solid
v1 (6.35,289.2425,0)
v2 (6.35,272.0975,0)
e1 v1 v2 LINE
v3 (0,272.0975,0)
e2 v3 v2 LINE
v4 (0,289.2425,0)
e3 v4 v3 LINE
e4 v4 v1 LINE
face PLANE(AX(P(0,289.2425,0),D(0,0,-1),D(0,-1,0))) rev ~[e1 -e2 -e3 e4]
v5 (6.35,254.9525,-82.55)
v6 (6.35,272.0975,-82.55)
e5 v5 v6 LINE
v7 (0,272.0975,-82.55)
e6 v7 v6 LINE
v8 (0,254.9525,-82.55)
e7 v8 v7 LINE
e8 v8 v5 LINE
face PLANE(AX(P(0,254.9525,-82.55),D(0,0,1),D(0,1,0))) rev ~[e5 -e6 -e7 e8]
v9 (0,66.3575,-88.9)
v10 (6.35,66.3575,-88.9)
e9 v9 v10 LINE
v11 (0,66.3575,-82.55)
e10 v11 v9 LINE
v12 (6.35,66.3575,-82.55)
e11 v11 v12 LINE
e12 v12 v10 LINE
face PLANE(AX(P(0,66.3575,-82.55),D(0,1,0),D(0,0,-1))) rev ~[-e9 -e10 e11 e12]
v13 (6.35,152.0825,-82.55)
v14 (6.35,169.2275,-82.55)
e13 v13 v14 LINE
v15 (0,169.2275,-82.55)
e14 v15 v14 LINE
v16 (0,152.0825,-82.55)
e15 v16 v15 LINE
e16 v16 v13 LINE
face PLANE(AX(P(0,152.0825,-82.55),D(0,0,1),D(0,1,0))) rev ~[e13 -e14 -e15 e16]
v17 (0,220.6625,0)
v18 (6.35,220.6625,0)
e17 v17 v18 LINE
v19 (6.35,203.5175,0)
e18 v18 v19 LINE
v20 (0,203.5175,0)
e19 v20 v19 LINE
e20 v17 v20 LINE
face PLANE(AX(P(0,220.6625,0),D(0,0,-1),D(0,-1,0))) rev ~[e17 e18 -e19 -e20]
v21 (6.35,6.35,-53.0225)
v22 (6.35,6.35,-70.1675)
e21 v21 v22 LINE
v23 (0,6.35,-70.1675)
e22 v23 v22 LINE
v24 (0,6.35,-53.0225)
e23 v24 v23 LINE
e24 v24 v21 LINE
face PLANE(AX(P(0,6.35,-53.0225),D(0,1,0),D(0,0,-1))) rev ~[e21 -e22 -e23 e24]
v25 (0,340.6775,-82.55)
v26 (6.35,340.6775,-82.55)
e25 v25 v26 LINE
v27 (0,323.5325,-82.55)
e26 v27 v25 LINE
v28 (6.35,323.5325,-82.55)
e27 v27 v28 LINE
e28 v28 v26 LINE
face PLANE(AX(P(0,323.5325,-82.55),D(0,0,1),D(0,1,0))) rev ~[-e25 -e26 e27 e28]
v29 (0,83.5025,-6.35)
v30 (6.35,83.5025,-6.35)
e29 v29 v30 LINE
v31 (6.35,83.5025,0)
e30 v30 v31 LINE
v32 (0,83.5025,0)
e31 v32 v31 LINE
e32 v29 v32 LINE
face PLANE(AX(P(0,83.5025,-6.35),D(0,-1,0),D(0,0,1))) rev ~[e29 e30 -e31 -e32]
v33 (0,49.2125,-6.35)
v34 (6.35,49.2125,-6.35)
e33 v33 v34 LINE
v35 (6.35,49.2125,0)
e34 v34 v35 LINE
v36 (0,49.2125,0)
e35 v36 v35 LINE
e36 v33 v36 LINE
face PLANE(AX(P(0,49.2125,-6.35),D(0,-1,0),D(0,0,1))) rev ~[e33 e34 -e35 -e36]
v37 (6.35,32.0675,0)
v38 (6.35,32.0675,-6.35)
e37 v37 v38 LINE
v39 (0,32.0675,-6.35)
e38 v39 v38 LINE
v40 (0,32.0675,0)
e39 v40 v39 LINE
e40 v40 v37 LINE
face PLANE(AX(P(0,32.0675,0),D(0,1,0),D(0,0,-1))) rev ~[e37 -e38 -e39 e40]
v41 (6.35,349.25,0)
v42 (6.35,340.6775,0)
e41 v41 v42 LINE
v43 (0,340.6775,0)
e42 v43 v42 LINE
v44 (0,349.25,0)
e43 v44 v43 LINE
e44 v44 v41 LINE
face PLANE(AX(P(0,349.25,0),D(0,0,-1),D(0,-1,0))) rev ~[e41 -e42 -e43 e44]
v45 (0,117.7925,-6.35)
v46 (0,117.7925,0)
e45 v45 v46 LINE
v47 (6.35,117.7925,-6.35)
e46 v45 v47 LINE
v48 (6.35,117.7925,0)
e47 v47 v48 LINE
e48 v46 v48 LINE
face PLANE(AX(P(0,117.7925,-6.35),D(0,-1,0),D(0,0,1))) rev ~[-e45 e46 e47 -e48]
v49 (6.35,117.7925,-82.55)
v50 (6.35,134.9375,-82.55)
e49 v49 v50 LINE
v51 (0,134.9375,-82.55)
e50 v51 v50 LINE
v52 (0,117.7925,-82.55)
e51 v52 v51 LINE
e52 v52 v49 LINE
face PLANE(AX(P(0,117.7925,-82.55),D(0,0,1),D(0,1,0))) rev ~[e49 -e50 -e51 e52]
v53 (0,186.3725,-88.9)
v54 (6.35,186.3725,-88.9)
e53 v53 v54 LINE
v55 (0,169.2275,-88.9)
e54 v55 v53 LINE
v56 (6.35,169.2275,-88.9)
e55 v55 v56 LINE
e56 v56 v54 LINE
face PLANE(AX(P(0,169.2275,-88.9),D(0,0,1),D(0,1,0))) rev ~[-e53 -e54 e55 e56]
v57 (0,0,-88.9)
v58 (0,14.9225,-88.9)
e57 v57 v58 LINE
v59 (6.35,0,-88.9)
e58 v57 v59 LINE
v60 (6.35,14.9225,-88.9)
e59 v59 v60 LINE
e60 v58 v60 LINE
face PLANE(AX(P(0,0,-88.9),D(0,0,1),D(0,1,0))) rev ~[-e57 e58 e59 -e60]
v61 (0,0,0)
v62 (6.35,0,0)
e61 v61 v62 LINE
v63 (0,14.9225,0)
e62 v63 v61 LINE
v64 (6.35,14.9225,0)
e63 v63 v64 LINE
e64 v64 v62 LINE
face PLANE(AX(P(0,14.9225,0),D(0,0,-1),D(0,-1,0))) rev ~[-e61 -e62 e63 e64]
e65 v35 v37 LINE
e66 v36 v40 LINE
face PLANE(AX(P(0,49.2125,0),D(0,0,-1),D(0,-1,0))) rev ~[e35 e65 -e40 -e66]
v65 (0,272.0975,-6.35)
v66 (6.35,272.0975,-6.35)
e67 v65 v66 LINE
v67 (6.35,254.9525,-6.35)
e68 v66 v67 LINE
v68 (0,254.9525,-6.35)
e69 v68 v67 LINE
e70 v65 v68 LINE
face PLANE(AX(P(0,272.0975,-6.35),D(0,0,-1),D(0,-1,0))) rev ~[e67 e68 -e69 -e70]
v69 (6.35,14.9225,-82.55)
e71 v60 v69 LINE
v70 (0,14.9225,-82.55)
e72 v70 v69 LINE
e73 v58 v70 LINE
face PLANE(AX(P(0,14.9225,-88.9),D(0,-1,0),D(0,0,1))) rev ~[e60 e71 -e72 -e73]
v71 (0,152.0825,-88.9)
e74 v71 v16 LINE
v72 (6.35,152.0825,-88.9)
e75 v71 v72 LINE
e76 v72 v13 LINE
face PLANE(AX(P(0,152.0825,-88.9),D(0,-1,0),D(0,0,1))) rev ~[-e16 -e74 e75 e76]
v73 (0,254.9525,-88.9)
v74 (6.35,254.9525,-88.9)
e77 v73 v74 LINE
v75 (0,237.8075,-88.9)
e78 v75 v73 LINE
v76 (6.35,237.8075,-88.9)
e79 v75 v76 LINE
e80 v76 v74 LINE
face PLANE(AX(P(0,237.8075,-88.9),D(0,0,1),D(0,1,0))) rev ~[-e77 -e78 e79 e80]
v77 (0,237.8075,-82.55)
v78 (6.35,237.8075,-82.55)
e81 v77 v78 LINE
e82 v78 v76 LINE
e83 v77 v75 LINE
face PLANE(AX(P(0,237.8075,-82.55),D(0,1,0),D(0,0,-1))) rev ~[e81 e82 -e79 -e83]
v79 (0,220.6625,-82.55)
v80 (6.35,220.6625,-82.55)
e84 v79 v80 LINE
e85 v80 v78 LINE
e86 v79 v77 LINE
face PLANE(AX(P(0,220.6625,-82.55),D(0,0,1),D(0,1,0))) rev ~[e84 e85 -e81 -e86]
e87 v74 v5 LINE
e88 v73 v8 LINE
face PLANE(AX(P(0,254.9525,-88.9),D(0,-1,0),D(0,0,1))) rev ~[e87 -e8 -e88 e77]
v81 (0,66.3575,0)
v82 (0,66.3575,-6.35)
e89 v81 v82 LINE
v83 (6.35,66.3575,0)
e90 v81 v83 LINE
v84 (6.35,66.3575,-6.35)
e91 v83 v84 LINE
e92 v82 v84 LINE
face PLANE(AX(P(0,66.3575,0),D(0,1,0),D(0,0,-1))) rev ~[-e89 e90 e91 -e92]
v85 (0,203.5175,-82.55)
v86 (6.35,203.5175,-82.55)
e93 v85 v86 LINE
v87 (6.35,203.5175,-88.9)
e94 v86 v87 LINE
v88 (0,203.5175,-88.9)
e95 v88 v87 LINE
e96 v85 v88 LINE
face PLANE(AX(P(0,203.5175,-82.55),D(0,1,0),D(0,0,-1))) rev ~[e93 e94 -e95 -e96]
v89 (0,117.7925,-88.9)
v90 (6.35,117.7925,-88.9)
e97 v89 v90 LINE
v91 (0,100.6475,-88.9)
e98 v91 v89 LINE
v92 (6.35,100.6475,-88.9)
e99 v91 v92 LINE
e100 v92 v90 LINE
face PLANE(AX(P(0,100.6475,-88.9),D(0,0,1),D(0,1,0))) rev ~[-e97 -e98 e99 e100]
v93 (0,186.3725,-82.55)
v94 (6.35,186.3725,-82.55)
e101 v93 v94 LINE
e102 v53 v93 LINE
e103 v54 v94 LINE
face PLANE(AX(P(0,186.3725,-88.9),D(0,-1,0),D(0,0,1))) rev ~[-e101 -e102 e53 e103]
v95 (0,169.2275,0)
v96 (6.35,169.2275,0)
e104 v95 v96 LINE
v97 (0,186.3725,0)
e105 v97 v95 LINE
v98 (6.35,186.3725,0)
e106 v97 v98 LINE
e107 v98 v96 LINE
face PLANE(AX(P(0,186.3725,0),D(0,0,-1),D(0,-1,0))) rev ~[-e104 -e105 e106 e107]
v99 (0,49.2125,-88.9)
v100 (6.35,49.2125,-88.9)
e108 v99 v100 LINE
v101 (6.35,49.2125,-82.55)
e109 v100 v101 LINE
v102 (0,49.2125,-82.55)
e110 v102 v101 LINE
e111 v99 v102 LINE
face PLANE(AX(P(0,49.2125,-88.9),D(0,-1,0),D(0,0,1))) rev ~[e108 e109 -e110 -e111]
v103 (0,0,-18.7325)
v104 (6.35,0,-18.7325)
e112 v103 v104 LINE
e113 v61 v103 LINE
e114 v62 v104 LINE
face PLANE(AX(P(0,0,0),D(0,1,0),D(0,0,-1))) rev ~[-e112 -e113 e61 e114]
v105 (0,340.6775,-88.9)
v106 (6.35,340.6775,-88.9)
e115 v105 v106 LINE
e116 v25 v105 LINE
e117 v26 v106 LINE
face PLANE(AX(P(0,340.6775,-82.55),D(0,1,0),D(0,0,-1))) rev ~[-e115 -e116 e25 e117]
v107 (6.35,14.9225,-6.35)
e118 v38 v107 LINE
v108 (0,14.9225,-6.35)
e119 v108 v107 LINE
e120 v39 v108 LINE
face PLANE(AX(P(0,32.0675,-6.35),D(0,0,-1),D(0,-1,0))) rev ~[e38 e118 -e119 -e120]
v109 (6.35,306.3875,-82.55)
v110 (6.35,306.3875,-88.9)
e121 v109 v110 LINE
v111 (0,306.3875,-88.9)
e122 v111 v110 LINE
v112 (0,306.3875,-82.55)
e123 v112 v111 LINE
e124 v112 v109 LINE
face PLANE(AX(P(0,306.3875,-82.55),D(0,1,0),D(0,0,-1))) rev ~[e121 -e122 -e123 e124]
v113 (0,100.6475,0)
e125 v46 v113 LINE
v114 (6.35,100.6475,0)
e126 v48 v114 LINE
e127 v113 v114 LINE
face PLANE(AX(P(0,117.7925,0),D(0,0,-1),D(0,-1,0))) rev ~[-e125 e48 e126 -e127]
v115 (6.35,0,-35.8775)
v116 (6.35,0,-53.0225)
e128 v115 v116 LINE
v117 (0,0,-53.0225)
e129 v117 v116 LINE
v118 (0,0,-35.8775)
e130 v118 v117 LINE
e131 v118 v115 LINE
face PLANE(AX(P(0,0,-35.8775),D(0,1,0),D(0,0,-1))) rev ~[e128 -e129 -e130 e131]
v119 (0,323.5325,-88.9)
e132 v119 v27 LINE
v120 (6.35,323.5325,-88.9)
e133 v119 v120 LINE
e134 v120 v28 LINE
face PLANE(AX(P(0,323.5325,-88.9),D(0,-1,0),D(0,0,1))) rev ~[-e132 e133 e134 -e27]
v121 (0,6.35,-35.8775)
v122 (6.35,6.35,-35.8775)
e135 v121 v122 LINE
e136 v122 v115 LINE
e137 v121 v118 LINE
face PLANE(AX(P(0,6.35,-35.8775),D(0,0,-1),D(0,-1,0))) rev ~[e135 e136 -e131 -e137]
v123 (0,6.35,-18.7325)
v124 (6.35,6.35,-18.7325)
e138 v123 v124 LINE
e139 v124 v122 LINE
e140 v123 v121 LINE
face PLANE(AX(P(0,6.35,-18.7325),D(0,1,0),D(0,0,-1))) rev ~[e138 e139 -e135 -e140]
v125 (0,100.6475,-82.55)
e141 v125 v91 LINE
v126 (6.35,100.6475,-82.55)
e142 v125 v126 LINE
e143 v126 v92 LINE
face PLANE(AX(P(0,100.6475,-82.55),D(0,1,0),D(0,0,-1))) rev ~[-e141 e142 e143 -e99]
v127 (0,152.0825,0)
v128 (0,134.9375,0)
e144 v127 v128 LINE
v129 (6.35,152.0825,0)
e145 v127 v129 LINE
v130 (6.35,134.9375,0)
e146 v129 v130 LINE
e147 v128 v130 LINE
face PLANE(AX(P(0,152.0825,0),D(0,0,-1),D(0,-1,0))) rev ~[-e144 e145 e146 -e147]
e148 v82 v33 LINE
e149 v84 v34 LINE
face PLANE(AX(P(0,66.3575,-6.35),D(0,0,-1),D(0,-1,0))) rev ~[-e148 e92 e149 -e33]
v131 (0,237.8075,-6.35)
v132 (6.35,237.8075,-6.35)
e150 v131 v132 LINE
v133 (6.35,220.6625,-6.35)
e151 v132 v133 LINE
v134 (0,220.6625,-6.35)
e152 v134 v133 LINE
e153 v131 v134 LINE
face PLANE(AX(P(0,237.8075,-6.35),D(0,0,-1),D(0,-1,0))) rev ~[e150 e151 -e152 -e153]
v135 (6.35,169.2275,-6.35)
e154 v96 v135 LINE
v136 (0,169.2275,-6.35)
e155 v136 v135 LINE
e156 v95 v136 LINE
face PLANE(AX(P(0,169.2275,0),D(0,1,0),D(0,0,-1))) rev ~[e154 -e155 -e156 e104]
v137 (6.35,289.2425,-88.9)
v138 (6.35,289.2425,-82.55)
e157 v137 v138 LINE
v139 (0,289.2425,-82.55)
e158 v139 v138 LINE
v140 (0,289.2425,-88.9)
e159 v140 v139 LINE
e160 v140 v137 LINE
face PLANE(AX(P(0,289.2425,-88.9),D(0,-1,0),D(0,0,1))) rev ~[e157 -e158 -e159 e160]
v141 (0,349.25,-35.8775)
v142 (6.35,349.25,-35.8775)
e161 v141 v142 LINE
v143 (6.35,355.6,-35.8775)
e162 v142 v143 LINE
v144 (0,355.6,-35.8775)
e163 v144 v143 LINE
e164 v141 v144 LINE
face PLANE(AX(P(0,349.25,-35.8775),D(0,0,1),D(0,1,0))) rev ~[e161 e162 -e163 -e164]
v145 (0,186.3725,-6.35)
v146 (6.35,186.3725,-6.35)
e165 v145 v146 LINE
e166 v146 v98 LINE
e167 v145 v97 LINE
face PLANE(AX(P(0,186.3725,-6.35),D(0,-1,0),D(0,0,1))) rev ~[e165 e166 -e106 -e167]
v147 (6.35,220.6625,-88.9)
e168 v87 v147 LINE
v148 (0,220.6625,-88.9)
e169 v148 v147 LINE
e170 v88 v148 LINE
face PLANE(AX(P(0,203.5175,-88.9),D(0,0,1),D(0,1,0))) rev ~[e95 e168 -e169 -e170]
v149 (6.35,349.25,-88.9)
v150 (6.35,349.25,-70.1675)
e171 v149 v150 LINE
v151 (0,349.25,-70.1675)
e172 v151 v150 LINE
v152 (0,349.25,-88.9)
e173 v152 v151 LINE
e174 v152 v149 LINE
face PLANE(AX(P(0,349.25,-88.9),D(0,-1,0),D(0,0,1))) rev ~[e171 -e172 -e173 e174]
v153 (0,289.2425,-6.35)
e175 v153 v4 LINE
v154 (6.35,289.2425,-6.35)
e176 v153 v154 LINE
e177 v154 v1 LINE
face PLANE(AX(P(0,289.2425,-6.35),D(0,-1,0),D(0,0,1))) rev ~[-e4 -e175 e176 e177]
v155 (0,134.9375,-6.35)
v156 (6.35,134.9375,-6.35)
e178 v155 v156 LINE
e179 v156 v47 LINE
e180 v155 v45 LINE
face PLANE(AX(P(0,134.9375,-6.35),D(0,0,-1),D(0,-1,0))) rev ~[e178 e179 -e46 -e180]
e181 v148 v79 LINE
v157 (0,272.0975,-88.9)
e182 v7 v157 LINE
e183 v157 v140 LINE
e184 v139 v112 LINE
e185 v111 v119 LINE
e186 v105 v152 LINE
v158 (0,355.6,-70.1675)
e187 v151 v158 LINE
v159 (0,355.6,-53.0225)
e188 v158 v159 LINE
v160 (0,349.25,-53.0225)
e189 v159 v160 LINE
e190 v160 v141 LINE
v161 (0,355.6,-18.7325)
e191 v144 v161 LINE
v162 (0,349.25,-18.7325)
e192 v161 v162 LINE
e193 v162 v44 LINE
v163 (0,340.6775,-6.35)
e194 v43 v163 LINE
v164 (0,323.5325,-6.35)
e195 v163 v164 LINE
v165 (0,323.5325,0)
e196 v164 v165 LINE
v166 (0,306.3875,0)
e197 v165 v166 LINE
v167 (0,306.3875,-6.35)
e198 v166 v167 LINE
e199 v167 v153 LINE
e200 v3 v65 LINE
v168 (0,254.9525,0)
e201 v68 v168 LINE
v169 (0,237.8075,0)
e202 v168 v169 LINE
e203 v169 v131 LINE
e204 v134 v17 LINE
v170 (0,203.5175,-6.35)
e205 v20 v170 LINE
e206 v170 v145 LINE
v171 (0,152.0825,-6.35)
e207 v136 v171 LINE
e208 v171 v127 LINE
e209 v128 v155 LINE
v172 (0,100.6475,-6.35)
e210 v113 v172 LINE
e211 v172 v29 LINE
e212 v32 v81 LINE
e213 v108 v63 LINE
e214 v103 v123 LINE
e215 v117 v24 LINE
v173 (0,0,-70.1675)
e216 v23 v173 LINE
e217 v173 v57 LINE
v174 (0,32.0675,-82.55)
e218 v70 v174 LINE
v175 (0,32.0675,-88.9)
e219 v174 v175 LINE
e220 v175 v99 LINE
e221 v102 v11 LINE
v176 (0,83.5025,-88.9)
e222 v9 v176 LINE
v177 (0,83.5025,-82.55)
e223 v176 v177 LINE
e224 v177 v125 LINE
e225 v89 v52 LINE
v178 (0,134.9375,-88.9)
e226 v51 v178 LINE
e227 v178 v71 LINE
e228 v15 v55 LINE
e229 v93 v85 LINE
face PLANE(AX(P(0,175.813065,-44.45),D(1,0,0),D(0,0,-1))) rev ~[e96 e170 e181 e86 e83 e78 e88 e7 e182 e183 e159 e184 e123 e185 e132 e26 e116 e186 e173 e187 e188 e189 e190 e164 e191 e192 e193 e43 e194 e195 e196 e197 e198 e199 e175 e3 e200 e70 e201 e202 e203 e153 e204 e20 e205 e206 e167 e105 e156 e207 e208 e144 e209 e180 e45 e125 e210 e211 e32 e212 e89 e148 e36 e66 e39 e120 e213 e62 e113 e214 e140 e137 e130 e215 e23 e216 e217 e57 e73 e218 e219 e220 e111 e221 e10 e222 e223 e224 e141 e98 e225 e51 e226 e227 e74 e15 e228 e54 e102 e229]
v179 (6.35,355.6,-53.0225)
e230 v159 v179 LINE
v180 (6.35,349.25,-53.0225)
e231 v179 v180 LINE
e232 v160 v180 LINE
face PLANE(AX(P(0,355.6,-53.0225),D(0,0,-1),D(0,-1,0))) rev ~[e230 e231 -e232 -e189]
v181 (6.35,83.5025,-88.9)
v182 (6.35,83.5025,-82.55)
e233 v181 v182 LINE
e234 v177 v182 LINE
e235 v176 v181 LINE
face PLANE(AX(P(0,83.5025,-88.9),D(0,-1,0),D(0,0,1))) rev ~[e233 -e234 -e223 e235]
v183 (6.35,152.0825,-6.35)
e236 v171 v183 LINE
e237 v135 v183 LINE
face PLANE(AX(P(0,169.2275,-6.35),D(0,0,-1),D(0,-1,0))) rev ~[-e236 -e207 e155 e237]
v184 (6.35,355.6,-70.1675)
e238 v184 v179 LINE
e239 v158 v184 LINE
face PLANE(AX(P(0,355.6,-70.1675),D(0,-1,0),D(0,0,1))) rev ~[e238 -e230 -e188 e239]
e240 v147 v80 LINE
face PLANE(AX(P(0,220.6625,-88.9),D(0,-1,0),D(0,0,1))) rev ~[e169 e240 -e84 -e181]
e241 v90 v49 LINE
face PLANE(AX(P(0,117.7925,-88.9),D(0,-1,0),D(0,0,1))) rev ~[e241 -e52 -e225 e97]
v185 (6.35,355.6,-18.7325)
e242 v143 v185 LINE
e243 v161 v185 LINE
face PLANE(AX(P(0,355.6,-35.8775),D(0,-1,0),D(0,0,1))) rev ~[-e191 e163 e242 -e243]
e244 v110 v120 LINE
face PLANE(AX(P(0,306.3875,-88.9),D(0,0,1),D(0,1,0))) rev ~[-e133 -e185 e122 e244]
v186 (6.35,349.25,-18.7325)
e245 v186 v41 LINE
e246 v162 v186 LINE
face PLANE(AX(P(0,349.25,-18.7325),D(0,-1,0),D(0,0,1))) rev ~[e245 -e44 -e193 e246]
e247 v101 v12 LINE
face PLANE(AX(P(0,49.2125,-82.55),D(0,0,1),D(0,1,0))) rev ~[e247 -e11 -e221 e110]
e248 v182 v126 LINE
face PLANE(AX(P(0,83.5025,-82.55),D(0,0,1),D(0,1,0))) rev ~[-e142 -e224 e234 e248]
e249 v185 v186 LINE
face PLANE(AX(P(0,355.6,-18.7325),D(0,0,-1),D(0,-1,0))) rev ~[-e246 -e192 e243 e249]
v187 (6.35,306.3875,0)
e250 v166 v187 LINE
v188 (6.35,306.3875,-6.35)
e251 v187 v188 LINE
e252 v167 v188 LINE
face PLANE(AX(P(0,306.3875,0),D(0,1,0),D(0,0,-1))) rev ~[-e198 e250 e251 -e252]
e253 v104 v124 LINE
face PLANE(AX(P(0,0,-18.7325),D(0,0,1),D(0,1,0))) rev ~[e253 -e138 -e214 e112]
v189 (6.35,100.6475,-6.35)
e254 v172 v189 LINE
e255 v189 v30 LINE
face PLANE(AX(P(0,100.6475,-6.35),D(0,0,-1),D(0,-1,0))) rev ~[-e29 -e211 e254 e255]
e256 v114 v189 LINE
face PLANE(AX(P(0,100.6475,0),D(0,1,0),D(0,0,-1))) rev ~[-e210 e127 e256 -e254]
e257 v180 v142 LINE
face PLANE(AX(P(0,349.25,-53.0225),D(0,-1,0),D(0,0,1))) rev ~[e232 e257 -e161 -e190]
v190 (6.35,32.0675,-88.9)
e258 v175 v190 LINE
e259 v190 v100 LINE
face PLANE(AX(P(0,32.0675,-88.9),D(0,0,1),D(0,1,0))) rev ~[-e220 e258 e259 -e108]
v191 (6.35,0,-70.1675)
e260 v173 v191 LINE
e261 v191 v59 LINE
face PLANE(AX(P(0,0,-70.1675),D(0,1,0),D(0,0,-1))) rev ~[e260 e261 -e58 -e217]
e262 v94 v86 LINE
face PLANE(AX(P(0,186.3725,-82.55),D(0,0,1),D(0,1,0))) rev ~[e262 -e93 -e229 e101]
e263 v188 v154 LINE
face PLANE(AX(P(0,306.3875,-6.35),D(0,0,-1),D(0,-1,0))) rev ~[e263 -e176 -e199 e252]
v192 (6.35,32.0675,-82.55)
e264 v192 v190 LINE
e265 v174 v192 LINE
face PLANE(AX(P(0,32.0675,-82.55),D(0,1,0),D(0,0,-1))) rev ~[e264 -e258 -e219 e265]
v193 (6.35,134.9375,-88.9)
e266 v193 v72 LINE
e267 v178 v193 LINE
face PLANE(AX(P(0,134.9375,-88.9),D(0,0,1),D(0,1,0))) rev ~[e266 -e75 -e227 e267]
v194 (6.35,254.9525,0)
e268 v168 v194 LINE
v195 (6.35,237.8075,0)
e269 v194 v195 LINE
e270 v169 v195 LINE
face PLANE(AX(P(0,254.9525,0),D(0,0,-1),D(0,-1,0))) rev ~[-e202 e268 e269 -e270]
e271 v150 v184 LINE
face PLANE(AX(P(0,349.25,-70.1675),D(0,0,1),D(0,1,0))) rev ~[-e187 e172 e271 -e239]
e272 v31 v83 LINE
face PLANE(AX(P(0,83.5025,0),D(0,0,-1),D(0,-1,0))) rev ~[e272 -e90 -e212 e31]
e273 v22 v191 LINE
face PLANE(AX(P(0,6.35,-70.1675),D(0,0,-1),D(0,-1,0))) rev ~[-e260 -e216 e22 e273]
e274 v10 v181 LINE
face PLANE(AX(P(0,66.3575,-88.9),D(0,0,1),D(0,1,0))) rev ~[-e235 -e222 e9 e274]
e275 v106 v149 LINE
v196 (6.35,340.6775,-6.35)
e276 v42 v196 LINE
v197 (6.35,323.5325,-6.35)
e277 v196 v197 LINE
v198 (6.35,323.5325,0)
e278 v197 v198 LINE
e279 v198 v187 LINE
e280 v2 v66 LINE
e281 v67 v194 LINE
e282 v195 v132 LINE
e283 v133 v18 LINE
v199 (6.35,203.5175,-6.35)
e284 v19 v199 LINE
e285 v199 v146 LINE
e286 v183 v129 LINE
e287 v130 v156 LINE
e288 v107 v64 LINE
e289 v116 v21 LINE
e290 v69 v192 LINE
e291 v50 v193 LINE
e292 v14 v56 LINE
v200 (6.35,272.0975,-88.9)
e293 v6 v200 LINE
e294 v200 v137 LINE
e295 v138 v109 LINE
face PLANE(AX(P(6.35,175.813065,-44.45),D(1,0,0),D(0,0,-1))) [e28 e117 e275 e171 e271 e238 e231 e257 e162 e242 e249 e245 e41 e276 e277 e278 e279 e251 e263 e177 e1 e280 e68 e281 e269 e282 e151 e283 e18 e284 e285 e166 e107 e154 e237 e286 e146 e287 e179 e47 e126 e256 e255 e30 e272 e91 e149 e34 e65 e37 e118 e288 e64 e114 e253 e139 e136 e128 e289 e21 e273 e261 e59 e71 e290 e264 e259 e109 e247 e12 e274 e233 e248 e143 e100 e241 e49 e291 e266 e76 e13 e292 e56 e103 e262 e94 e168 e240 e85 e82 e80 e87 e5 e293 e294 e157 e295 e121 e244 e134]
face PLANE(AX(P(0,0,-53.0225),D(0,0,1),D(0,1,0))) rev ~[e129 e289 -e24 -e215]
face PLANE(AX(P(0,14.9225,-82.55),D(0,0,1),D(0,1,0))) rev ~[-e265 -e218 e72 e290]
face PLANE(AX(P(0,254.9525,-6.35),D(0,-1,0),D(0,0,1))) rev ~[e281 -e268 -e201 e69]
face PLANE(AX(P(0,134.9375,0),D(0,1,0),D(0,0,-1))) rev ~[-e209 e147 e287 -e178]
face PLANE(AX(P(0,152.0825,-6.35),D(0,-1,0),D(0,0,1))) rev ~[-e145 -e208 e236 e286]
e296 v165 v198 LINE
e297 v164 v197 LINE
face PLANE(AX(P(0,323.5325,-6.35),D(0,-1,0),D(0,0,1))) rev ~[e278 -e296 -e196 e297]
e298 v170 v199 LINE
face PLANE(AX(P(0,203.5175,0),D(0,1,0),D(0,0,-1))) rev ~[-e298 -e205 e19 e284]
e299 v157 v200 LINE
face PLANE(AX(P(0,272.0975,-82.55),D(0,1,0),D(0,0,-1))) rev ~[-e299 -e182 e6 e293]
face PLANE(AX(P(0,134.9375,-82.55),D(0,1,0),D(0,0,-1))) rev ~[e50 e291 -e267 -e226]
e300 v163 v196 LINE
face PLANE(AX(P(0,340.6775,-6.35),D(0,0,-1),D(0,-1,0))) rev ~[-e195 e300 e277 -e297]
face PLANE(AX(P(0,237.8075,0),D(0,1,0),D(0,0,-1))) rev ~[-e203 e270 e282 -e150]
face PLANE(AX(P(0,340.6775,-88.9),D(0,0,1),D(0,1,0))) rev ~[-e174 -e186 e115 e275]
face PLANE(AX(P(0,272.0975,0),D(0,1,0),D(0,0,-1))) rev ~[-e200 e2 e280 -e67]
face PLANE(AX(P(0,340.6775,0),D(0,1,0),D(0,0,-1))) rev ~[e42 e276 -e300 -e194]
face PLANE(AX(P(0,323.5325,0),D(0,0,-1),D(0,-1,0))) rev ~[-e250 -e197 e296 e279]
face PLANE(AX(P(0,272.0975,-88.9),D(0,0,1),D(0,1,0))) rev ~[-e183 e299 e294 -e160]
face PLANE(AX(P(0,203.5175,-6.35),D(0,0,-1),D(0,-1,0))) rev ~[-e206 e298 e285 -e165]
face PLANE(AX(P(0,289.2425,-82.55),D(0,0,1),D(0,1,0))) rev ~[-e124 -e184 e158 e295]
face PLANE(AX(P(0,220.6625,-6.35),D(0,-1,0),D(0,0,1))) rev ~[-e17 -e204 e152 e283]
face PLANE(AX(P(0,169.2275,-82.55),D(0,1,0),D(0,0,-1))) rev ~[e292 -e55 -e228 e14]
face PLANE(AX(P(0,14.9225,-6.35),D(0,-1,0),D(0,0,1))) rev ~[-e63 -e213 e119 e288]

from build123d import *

# Parameters (mm, degrees)
BOSS_EXTRUDE1_DEPTH = 6.35


with BuildPart() as part:
    # Sketch1 → Boss-Extrude1 (new body)
    with BuildSketch(Plane(origin=(0, 0, 0), x_dir=(0, 0, -1), z_dir=(1, 0, 0))):
        Polygon((0, 14.9225), (0, 6.35), (0, 0), (6.35, 0), (18.7325, 0), (18.7325, 6.35), (35.8775, 6.35), (35.8775, 0), (53.0225, 0), (53.0225, 6.35), (70.1675, 6.35), (70.1675, 0), (82.55, 0), (88.9, 0), (88.9, 6.35), (88.9, 14.9225), (82.55, 14.9225), (82.55, 32.0675), (88.9, 32.0675), (88.9, 49.2125), (82.55, 49.2125), (82.55, 66.3575), (88.9, 66.3575), (88.9, 83.5025), (82.55, 83.5025), (82.55, 100.6475), (88.9, 100.6475), (88.9, 117.7925), (82.55, 117.7925), (82.55, 134.9375), (88.9, 134.9375), (88.9, 152.0825), (82.55, 152.0825), (82.55, 169.2275), (88.9, 169.2275), (88.9, 186.3725), (82.55, 186.3725), (82.55, 203.5175), (88.9, 203.5175), (88.9, 220.6625), (82.55, 220.6625), (82.55, 237.8075), (88.9, 237.8075), (88.9, 254.9525), (82.55, 254.9525), (82.55, 272.0975), (88.9, 272.0975), (88.9, 289.2425), (82.55, 289.2425), (82.55, 306.3875), (88.9, 306.3875), (88.9, 323.5325), (82.55, 323.5325), (82.55, 340.6775), (88.9, 340.6775), (88.9, 349.25), (70.1675, 349.25), (70.1675, 355.6), (53.0225, 355.6), (53.0225, 349.25), (35.8775, 349.25), (35.8775, 355.6), (18.7325, 355.6), (18.7325, 349.25), (6.35, 349.25), (0, 349.25), (0, 340.6775), (6.35, 340.6775), (6.35, 334.518000001), (6.35, 329.692000001), (6.35, 323.5325), (0, 323.5325), (0, 306.3875), (6.35, 306.3875), (6.35, 289.2425), (0, 289.2425), (0, 272.0975), (6.35, 272.0975), (6.35, 254.9525), (0, 254.9525), (0, 237.8075), (6.35, 237.8075), (6.35, 220.6625), (0, 220.6625), (0, 203.5175), (6.35, 203.5175), (6.35, 186.3725), (0, 186.3725), (0, 169.2275), (6.35, 169.2275), (6.35, 152.0825), (0, 152.0825), (0, 134.9375), (6.35, 134.9375), (6.35, 117.7925), (0, 117.7925), (0, 100.6475), (6.35, 100.6475), (6.35, 83.5025), (0, 83.5025), (0, 66.3575), (6.35, 66.3575), (6.35, 49.2125), (0, 49.2125), (0, 32.0675), (6.35, 32.0675), (6.35, 25.907999999), (6.35, 21.081999999), (6.35, 14.9225), align=None)
    extrude(amount=BOSS_EXTRUDE1_DEPTH)


solid = part.part
